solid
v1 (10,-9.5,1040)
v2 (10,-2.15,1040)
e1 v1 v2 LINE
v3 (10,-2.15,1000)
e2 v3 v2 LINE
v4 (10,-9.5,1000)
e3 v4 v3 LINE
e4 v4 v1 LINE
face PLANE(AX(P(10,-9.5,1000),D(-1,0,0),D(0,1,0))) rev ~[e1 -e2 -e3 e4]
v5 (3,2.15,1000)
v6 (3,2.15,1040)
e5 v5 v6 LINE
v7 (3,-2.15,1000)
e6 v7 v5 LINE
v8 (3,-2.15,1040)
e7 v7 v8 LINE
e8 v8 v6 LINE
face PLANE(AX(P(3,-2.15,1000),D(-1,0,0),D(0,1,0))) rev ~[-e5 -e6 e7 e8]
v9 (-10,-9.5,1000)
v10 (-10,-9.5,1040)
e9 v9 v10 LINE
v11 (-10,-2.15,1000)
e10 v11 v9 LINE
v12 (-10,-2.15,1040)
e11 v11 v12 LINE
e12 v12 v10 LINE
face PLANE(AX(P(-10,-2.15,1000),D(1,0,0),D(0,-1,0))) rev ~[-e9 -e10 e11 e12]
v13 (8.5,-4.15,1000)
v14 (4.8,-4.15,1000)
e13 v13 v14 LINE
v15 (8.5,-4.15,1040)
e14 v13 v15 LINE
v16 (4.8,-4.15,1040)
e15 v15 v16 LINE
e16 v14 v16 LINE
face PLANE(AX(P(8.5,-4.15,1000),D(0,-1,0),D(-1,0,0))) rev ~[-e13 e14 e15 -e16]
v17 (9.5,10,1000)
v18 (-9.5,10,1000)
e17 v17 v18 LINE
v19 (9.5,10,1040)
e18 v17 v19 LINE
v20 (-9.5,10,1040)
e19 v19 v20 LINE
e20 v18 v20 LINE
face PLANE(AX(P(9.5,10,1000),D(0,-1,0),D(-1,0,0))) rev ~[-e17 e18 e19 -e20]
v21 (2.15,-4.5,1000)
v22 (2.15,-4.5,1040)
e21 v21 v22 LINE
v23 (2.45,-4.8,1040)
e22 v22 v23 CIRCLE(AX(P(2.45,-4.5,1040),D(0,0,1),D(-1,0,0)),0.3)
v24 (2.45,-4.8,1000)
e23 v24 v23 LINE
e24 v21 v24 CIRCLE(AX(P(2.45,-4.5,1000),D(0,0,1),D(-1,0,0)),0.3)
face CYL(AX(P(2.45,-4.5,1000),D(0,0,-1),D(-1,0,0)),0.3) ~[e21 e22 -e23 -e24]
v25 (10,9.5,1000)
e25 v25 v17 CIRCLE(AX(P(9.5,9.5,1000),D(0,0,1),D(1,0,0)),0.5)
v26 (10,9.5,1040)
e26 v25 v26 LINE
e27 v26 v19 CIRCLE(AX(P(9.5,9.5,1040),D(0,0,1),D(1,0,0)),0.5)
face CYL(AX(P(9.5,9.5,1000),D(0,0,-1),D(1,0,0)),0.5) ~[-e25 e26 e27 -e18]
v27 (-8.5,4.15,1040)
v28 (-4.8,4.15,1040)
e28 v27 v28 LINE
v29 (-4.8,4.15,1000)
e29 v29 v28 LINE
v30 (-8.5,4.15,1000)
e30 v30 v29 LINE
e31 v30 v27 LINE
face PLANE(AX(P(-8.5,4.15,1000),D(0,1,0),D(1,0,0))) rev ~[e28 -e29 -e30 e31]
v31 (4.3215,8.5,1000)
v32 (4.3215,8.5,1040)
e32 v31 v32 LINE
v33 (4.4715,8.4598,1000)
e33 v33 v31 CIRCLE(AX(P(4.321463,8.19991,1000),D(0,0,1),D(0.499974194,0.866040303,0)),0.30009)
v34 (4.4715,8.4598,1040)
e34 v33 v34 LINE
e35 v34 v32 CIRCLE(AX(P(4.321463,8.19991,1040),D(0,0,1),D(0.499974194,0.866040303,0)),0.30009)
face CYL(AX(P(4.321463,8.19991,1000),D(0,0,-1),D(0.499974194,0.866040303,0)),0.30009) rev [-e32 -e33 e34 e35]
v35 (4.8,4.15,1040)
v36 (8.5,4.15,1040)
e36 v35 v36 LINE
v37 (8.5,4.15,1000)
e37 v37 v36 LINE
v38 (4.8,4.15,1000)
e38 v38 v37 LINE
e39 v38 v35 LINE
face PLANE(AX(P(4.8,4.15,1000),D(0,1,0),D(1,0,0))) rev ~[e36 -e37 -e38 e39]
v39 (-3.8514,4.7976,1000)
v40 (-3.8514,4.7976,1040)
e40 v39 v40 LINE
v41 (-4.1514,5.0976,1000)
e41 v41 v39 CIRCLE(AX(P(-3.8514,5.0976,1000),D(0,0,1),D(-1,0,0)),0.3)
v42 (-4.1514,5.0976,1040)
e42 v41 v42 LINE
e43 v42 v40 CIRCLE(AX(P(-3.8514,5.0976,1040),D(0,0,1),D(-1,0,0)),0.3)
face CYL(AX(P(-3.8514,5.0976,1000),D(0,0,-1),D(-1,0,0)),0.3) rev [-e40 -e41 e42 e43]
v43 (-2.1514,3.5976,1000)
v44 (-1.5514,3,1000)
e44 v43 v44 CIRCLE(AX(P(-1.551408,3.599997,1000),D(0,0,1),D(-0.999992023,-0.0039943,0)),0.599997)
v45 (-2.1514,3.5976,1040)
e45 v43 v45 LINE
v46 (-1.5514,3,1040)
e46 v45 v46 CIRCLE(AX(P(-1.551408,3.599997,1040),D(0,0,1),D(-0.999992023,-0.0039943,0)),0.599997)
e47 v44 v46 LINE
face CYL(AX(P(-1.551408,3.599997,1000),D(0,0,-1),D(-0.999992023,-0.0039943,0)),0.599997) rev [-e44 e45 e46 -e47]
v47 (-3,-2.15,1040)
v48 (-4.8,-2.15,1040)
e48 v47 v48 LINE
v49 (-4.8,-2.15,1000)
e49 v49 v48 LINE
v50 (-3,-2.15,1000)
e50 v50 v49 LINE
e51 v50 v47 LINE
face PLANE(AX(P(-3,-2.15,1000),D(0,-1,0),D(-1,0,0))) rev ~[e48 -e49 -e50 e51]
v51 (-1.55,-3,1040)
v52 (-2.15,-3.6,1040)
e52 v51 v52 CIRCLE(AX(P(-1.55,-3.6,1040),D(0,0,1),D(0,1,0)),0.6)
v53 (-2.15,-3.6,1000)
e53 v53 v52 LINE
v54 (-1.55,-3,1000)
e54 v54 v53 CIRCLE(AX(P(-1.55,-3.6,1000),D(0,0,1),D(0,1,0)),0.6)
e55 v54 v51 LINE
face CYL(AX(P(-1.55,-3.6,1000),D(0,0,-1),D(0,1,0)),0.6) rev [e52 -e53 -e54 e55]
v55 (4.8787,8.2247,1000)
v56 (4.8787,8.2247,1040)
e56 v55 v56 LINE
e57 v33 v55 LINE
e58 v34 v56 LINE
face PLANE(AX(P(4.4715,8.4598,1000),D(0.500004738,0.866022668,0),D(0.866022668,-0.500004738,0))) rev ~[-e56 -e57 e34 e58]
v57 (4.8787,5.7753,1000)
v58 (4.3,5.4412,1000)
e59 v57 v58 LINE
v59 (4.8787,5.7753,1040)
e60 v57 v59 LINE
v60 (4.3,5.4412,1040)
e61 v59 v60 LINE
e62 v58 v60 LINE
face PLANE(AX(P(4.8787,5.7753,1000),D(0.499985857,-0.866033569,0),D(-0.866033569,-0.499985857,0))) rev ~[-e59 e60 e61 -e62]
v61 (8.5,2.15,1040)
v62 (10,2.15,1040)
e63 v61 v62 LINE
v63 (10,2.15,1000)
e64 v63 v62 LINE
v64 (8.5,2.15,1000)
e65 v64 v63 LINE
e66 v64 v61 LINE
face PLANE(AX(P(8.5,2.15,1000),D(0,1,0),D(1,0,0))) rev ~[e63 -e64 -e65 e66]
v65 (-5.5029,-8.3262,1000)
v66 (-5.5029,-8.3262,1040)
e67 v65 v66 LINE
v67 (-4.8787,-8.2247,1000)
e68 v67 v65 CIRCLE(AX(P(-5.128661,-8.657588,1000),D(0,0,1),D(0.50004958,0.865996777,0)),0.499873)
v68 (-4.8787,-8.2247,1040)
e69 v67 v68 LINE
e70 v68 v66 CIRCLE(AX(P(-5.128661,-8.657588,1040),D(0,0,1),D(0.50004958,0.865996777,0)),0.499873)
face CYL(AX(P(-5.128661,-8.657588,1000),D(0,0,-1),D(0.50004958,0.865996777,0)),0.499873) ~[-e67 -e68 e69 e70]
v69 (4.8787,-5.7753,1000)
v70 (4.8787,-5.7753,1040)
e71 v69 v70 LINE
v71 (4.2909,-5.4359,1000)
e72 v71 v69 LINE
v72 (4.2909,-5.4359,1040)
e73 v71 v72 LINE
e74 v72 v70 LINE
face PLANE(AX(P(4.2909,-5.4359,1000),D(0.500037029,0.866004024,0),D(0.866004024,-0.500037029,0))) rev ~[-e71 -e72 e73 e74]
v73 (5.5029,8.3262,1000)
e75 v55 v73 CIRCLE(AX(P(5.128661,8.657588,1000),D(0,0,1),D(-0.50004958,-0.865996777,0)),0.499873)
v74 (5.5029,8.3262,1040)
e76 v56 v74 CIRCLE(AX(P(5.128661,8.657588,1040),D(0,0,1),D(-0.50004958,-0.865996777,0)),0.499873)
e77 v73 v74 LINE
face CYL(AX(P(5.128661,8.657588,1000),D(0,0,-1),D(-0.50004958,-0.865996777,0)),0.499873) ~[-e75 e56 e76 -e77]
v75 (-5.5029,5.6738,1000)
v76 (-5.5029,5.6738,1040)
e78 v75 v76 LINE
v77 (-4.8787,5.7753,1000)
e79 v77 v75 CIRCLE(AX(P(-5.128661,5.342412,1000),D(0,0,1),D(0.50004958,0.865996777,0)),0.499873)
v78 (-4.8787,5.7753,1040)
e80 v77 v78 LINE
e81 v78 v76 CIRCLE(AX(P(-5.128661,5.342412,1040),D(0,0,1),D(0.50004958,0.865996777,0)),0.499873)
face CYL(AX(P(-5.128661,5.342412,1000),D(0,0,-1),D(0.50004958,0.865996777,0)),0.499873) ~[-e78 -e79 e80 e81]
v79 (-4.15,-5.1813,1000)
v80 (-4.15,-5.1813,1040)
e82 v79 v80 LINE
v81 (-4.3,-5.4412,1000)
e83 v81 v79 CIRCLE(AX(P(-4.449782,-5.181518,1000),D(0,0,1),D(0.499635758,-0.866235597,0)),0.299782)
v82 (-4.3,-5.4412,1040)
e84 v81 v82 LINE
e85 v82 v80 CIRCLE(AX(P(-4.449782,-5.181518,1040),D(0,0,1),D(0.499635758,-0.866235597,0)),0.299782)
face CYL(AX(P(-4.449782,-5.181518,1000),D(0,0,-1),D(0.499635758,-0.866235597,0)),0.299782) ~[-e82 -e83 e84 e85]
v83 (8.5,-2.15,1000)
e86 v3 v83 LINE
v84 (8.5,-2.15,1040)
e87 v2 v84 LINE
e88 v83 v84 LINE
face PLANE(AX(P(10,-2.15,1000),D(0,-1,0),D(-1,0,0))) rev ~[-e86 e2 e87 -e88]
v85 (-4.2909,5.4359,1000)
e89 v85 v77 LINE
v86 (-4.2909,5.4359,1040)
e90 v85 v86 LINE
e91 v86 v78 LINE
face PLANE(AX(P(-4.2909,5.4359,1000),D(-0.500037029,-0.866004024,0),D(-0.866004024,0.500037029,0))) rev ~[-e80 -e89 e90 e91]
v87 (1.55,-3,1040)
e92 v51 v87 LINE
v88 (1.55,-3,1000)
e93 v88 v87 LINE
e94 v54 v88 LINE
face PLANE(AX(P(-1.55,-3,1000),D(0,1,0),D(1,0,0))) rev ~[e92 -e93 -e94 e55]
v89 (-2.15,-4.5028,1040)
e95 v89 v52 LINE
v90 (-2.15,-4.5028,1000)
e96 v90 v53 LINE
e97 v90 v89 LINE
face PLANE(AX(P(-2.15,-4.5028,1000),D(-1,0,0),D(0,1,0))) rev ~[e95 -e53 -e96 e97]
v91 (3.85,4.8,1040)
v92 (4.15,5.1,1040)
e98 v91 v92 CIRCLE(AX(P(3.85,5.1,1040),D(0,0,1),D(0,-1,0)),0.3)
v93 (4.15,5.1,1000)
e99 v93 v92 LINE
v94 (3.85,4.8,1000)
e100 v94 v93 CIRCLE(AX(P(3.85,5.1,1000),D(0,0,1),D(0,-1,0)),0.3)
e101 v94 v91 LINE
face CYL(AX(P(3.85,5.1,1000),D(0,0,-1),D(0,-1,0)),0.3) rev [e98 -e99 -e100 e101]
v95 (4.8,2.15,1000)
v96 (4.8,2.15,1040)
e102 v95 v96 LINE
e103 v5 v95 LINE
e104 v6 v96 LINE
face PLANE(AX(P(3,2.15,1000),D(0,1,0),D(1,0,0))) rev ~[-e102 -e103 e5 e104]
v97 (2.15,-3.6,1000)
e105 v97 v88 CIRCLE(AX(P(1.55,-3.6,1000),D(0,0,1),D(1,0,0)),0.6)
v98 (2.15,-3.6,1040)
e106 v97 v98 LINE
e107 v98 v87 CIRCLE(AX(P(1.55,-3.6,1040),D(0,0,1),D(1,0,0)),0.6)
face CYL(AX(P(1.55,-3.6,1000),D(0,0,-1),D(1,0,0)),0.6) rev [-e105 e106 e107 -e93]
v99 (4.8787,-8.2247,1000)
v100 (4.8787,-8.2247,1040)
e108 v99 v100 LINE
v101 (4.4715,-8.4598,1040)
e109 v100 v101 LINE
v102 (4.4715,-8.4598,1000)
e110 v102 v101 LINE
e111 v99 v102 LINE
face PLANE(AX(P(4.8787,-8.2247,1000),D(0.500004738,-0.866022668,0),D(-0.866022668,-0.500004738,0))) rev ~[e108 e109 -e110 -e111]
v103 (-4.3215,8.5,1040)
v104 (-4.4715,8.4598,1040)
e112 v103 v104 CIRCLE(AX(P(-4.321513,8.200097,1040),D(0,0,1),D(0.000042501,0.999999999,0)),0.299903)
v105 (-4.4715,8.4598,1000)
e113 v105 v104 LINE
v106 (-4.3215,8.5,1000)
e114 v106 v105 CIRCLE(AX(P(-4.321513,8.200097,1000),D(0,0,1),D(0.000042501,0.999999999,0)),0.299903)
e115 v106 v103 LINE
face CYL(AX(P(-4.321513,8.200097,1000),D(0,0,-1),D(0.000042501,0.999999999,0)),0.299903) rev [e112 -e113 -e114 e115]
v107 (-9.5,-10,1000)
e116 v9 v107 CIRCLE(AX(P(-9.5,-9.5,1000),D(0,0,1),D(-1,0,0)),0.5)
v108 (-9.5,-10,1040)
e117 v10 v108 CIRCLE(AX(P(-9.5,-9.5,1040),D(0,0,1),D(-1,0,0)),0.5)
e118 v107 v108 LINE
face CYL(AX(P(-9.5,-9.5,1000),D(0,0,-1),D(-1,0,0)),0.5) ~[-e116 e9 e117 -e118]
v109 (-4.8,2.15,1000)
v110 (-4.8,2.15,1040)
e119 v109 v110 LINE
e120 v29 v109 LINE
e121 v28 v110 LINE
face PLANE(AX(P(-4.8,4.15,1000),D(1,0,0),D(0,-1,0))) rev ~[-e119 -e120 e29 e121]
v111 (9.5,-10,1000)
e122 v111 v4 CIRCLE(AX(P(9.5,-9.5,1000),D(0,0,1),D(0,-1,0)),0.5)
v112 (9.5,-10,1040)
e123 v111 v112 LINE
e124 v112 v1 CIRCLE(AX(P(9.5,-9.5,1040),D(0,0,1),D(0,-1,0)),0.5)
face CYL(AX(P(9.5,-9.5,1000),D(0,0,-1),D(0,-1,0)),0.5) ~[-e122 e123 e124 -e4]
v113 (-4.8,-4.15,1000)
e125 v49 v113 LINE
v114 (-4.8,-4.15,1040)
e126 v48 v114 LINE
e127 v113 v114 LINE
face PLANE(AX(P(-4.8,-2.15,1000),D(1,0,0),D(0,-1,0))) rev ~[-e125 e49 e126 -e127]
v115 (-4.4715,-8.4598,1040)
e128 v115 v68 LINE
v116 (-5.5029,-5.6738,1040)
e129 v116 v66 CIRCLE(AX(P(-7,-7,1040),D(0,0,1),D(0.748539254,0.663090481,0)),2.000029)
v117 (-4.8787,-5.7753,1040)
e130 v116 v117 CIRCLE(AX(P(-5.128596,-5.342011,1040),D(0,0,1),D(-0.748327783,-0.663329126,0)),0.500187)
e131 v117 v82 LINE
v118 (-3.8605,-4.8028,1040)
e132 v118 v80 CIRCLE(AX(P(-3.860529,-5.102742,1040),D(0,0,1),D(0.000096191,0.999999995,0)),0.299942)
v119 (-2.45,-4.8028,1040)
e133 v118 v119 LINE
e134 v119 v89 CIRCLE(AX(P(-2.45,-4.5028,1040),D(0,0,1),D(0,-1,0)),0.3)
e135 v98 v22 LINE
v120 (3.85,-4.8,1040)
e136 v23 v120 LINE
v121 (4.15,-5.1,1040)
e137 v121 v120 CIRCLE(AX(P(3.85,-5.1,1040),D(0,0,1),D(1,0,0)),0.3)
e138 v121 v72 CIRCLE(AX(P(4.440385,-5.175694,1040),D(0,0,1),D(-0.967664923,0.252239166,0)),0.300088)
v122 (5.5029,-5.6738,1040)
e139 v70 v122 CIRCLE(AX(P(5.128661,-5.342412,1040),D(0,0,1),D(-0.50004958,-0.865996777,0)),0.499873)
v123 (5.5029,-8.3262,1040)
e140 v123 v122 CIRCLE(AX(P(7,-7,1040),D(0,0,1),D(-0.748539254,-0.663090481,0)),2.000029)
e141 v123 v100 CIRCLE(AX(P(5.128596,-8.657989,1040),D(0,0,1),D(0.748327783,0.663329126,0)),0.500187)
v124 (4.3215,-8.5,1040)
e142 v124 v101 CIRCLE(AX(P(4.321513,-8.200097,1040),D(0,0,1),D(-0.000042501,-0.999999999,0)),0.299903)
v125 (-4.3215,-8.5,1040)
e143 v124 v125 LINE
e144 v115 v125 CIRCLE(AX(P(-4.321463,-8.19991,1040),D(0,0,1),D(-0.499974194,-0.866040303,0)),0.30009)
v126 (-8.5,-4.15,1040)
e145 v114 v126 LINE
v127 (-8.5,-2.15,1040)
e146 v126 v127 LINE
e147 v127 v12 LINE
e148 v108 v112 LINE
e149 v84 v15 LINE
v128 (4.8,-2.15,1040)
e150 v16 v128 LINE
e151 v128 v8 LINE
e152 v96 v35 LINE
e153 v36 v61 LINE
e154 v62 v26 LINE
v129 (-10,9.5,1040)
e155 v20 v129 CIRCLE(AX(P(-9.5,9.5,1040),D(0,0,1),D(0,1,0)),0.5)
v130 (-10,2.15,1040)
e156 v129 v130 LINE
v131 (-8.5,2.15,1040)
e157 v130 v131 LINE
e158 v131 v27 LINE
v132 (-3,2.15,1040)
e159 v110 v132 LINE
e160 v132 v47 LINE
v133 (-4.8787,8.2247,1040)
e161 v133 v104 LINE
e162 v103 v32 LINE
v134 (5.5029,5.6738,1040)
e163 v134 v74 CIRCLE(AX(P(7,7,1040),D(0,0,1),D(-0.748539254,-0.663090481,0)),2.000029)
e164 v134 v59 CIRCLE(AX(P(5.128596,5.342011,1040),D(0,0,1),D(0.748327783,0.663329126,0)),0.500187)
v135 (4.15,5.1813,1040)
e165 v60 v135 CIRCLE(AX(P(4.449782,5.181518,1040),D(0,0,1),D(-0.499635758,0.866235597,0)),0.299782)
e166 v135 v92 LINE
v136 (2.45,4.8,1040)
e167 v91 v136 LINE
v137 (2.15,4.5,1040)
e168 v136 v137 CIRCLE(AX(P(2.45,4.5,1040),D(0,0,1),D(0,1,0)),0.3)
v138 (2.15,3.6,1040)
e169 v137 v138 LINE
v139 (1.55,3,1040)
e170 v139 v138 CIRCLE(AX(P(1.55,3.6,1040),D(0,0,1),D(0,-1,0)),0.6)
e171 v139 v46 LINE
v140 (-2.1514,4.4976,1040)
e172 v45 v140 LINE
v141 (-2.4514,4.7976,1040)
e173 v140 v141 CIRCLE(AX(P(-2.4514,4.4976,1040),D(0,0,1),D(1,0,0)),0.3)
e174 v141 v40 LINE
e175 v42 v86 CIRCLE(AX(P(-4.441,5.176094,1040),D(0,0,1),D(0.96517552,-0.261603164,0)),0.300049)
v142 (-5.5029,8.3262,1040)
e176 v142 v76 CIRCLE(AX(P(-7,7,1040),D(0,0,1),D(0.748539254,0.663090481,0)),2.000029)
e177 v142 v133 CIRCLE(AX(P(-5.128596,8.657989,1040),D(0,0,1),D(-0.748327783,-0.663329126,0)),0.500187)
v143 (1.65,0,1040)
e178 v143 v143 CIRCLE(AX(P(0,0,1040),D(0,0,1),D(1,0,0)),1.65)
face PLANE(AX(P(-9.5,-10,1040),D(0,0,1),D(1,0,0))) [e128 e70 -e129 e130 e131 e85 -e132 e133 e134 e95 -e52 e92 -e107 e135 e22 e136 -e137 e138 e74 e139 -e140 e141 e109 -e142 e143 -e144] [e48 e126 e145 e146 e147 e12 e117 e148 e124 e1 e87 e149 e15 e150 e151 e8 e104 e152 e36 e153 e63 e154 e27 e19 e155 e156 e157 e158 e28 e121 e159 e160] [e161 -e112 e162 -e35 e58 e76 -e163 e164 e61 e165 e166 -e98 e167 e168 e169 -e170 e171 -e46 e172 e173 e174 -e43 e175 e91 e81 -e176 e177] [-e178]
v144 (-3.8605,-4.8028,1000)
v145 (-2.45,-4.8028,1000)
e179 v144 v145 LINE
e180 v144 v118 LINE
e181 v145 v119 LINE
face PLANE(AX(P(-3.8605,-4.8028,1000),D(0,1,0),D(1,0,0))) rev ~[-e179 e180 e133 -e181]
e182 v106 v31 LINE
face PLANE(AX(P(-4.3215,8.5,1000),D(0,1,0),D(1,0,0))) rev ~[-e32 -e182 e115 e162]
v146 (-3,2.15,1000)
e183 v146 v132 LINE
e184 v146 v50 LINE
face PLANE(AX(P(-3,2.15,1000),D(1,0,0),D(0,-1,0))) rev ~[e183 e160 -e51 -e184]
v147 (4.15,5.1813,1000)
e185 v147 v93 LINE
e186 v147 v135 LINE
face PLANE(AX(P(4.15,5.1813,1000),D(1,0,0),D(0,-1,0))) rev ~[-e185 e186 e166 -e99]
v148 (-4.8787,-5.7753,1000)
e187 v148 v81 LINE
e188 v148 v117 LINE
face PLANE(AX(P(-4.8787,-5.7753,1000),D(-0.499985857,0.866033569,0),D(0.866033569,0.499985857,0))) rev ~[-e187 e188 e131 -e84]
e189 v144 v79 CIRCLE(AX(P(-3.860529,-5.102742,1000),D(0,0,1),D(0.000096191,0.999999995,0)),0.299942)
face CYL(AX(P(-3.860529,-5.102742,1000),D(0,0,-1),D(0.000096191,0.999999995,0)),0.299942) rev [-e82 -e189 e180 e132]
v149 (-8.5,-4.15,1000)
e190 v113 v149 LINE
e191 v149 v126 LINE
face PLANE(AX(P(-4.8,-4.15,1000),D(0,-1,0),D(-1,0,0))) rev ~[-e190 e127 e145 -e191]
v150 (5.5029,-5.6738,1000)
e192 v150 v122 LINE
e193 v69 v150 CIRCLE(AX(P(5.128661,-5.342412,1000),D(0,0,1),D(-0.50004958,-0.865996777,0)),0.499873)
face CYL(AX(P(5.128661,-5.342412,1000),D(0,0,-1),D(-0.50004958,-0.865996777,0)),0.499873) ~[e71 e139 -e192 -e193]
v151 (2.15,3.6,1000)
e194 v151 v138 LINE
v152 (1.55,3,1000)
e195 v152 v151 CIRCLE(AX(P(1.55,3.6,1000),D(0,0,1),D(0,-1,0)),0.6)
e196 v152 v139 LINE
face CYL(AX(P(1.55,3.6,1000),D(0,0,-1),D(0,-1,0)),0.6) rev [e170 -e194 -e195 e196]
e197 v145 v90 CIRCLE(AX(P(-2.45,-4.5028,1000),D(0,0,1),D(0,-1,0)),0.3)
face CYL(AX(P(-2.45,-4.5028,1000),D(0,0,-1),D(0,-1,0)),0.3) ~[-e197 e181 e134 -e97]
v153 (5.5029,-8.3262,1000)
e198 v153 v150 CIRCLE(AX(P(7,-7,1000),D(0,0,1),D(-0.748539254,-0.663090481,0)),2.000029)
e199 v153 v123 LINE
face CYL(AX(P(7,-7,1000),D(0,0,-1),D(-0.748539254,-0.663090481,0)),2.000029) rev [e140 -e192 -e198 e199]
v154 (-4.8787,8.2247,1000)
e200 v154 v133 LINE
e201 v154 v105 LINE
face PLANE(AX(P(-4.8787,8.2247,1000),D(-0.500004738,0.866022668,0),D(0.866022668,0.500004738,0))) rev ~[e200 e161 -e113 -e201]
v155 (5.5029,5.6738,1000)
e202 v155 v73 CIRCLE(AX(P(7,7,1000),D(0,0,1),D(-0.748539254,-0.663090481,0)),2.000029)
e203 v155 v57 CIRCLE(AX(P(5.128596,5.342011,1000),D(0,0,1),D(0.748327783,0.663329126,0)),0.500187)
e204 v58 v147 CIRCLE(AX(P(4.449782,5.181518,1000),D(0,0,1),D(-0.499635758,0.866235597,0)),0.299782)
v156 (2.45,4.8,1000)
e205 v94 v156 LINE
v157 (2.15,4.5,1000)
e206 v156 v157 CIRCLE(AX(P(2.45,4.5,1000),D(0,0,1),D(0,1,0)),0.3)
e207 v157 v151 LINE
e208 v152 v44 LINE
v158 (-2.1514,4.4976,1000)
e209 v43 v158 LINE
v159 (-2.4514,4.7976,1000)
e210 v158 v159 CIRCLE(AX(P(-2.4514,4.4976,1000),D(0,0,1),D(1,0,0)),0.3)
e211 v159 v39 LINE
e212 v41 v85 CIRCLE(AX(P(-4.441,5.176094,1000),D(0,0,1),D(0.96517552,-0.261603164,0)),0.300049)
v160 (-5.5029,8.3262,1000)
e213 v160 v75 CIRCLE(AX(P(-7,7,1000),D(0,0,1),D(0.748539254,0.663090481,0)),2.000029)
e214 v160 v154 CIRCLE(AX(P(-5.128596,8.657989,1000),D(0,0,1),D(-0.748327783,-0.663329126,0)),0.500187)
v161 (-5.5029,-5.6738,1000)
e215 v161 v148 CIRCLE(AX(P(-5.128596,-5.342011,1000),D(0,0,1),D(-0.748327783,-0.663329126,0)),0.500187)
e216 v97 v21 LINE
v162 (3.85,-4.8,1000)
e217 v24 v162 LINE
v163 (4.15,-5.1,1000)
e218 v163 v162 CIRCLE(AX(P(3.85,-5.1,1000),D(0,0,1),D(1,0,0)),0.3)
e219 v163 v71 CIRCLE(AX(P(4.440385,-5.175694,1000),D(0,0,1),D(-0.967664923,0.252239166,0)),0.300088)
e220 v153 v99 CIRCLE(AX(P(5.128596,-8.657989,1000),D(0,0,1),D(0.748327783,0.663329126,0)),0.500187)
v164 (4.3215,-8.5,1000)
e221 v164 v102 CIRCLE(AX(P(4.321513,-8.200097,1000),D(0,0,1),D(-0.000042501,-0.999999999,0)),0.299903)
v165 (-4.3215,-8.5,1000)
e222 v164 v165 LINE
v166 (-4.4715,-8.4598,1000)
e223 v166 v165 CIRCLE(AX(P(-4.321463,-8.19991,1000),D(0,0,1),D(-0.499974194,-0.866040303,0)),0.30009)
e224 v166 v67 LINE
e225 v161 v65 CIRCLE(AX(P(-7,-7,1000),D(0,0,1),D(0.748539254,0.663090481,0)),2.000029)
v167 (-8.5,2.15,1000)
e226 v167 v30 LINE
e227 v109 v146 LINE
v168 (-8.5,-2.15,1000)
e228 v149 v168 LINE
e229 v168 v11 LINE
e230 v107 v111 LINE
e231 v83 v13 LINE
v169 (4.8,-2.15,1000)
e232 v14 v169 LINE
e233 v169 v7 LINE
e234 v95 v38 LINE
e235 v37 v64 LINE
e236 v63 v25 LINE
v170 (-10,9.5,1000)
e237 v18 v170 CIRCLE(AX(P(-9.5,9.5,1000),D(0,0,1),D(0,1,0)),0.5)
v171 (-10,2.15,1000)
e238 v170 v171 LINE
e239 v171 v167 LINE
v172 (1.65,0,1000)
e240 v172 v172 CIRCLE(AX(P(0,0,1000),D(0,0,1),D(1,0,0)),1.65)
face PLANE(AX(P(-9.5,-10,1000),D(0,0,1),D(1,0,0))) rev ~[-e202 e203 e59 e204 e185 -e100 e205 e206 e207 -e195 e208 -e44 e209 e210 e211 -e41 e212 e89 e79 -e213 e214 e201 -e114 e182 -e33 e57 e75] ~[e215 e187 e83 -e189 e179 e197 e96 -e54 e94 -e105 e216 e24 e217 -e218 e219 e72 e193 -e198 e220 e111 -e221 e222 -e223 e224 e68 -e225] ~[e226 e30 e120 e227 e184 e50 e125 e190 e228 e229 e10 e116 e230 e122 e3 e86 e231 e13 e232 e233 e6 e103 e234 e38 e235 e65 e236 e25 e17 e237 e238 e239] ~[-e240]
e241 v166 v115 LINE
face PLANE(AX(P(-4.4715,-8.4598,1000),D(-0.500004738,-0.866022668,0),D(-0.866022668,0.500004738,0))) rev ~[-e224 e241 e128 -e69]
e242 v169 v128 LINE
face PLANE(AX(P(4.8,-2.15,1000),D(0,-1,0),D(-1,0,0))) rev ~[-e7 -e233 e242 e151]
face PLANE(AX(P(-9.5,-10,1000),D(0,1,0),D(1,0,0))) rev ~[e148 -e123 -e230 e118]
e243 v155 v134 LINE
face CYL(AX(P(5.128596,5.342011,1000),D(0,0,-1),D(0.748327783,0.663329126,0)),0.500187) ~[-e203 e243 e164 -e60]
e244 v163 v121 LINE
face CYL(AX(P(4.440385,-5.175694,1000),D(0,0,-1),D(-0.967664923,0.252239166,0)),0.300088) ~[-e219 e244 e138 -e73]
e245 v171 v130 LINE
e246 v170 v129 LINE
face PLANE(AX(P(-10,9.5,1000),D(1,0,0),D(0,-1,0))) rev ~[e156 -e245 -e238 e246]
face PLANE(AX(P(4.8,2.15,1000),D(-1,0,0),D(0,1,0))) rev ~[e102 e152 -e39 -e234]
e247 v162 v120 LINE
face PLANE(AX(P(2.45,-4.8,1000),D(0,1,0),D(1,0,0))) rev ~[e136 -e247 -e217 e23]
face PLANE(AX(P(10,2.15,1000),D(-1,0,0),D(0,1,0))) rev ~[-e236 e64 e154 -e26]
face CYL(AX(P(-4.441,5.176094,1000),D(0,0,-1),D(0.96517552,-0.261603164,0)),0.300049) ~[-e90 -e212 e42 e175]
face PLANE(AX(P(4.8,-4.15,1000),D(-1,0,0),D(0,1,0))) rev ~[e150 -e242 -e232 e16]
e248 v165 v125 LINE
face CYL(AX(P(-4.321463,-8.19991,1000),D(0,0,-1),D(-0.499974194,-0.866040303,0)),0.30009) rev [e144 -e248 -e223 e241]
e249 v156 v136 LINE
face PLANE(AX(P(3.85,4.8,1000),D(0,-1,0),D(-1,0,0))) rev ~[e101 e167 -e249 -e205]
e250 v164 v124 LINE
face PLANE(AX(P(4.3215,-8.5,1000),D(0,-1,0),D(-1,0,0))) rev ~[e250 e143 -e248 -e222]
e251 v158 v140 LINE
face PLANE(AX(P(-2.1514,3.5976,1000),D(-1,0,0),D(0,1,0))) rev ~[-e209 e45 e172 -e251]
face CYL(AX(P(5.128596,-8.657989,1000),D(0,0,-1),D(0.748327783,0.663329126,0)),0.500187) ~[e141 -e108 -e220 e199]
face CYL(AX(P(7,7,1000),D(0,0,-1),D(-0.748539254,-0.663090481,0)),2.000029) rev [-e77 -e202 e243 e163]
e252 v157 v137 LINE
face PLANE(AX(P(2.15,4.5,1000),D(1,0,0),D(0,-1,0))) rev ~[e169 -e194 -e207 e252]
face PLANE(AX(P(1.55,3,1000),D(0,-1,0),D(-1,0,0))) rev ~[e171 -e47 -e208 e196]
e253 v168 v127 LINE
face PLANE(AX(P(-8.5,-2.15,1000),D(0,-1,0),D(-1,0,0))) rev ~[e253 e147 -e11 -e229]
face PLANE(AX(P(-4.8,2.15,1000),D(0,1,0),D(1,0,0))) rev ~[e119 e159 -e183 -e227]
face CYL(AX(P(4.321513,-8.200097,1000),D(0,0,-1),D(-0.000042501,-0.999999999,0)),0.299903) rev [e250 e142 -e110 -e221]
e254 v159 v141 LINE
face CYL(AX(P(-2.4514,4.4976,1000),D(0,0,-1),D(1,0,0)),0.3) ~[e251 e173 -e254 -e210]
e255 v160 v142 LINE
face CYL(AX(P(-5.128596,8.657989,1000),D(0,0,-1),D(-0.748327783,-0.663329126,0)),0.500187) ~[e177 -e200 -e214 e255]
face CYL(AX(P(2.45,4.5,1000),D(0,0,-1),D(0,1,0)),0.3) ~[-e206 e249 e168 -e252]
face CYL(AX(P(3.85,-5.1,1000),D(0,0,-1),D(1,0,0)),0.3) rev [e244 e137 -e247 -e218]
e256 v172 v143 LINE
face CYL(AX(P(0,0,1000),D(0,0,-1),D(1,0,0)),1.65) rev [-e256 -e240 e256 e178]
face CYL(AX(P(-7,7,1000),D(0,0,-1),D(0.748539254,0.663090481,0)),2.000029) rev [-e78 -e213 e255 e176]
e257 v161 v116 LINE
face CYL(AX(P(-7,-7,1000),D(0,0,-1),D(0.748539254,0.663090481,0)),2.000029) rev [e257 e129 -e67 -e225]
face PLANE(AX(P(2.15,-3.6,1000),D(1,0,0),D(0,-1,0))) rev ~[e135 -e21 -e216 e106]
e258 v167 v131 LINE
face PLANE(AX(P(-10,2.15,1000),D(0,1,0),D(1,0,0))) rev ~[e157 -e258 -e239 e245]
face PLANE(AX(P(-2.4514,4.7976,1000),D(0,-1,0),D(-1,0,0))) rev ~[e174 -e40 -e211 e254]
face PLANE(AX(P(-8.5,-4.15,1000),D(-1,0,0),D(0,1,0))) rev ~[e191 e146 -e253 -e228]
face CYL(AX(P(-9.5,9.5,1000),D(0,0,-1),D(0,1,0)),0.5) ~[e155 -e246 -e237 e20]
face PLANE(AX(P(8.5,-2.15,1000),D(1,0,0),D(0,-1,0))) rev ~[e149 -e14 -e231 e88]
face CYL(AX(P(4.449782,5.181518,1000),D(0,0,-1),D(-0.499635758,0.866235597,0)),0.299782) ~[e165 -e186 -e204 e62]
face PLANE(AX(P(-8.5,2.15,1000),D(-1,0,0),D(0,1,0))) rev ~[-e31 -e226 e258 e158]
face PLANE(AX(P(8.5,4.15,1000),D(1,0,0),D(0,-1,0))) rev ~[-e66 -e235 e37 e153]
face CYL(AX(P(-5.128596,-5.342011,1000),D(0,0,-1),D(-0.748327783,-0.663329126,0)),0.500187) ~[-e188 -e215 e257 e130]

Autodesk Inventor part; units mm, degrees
ref_plane "YZ Plane" through (0, 0, 0) normal (1, 0, 0) x (0, 1, 0)
ref_plane "XZ Plane" through (0, 0, 0) normal (0, 1, 0) x (-1, 0, 0)
ref_plane "作業平面1" through (-9.5, -10, 1000) normal (0, 0, 1) x (1, 0, 0)
sketch "スケッチ1" plane through (-9.5, -10, 1000) normal (0, 0, 1) x (1, 0, 0)
  line L0 (-0.5, 12.15) -> (1, 12.15) projected
  line L1 (1, 12.15) -> (1, 14.15) projected
  line L2 (1, 14.15) -> (4.7, 14.15) projected
  line L3 (4.7, 14.15) -> (4.7, 12.15) projected
  line L4 (4.7, 12.15) -> (6.5, 12.15) projected
  line L5 (6.5, 12.15) -> (6.5, 7.85) projected
  line L6 (6.5, 7.85) -> (4.7, 7.85) projected
  line L7 (4.7, 7.85) -> (4.7, 5.85) projected
  line L8 (4.7, 5.85) -> (1, 5.85) projected
  line L9 (1, 5.85) -> (1, 7.85) projected
  line L10 (1, 7.85) -> (-0.5, 7.85) projected
  line L11 (-0.5, 7.85) -> (-0.5, 0.5) projected
  arc A0 (-0.5, 0.5) -> (0, 0) centre (0, 0.5) ccw projected
  line L12 (0, 0) -> (19, 0) projected
  arc A1 (19, 0) -> (19.5, 0.5) centre (19, 0.5) ccw projected
  line L13 (19.5, 0.5) -> (19.5, 7.85) projected
  line L14 (19.5, 7.85) -> (18, 7.85) projected
  line L15 (18, 7.85) -> (18, 5.85) projected
  line L16 (18, 5.85) -> (14.3, 5.85) projected
  line L17 (14.3, 5.85) -> (14.3, 7.85) projected
  line L18 (14.3, 7.85) -> (12.5, 7.85) projected
  line L19 (12.5, 7.85) -> (12.5, 12.15) projected
  line L20 (12.5, 12.15) -> (14.3, 12.15) projected
  line L21 (14.3, 12.15) -> (14.3, 14.15) projected
  line L22 (14.3, 14.15) -> (18, 14.15) projected
  line L23 (18, 14.15) -> (18, 12.15) projected
  line L24 (18, 12.15) -> (19.5, 12.15) projected
  line L25 (19.5, 12.15) -> (19.5, 19.5) projected
  arc A2 (19.5, 19.5) -> (19, 20) centre (19, 19.5) ccw projected
  line L26 (19, 20) -> (0, 20) projected
  arc A3 (0, 20) -> (-0.5, 19.5) centre (0, 19.5) ccw projected
  line L27 (-0.5, 19.5) -> (-0.5, 12.15) projected
  line L28 (13.65, 15.1813) -> (13.65, 15.1) projected
  arc A4 (13.35, 14.8) -> (13.65, 15.1) centre (13.35, 15.1) ccw projected
  line L29 (13.35, 14.8) -> (11.95, 14.8) projected
  arc A5 (11.95, 14.8) -> (11.65, 14.5) centre (11.95, 14.5) ccw projected
  line L30 (11.65, 14.5) -> (11.65, 13.6) projected
  arc A6 (11.05, 13) -> (11.65, 13.6) centre (11.05, 13.6) ccw projected
  line L31 (11.05, 13) -> (7.9486, 13) projected
  arc A7 (7.3486, 13.5976) -> (7.9486, 13) centre (7.9486, 13.6) ccw projected
  line L32 (7.3486, 13.5976) -> (7.3486, 14.4976) projected
  arc A8 (7.3486, 14.4976) -> (7.0486, 14.7976) centre (7.0486, 14.4976) ccw projected
  line L33 (7.0486, 14.7976) -> (5.6486, 14.7976) projected
  arc A9 (5.3486, 15.0976) -> (5.6486, 14.7976) centre (5.6486, 15.0976) ccw projected
  arc A10 (5.3486, 15.0976) -> (5.2091, 15.4359) centre (5.0591, 15.1761) ccw projected
  line L34 (5.2091, 15.4359) -> (4.6213, 15.7753) projected
  arc A11 (4.6213, 15.7753) -> (3.9971, 15.6738) centre (4.3713, 15.3422) ccw projected
  arc A12 (3.9971, 18.3262) -> (3.9971, 15.6738) centre (2.5, 17) ccw projected
  arc A13 (3.9971, 18.3262) -> (4.6213, 18.2247) centre (4.3713, 18.6578) ccw projected
  line L35 (4.6213, 18.2247) -> (5.0285, 18.4598) projected
  arc A14 (5.1785, 18.5) -> (5.0285, 18.4598) centre (5.1785, 18.2) ccw projected
  line L36 (5.1785, 18.5) -> (13.8215, 18.5) projected
  arc A15 (13.9715, 18.4598) -> (13.8215, 18.5) centre (13.8215, 18.2) ccw projected
  line L37 (13.9715, 18.4598) -> (14.3787, 18.2247) projected
  arc A16 (14.3787, 18.2247) -> (15.0029, 18.3262) centre (14.6287, 18.6578) ccw projected
  arc A17 (15.0029, 15.6738) -> (15.0029, 18.3262) centre (16.5, 17) ccw projected
  arc A18 (15.0029, 15.6738) -> (14.3787, 15.7753) centre (14.6287, 15.3422) ccw projected
  line L38 (14.3787, 15.7753) -> (13.8, 15.4412) projected
  arc A19 (13.8, 15.4412) -> (13.65, 15.1813) centre (13.95, 15.1813) ccw projected
  arc A20 (11.65, 6.4) -> (11.05, 7) centre (11.05, 6.4) ccw projected
  line L39 (11.65, 6.4) -> (11.65, 5.5) projected
  arc A21 (11.65, 5.5) -> (11.95, 5.2) centre (11.95, 5.5) ccw projected
  line L40 (11.95, 5.2) -> (13.35, 5.2) projected
  arc A22 (13.65, 4.9) -> (13.35, 5.2) centre (13.35, 4.9) ccw projected
  arc A23 (13.65, 4.9) -> (13.7909, 4.5641) centre (13.9403, 4.8243) ccw projected
  line L41 (13.7909, 4.5641) -> (14.3787, 4.2247) projected
  arc A24 (14.3787, 4.2247) -> (15.0029, 4.3262) centre (14.6287, 4.6578) ccw projected
  arc A25 (15.0029, 1.6738) -> (15.0029, 4.3262) centre (16.5, 3) ccw projected
  arc A26 (15.0029, 1.6738) -> (14.3787, 1.7753) centre (14.6287, 1.3422) ccw projected
  line L42 (14.3787, 1.7753) -> (13.9715, 1.5402) projected
  arc A27 (13.8215, 1.5) -> (13.9715, 1.5402) centre (13.8215, 1.8) ccw projected
  line L43 (13.8215, 1.5) -> (5.1785, 1.5) projected
  arc A28 (5.0285, 1.5402) -> (5.1785, 1.5) centre (5.1785, 1.8) ccw projected
  line L44 (5.0285, 1.5402) -> (4.6213, 1.7753) projected
  arc A29 (4.6213, 1.7753) -> (3.9971, 1.6738) centre (4.3713, 1.3422) ccw projected
  arc A30 (3.9971, 4.3262) -> (3.9971, 1.6738) centre (2.5, 3) ccw projected
  arc A31 (3.9971, 4.3262) -> (4.6213, 4.2247) centre (4.3713, 4.6578) ccw projected
  line L45 (4.6213, 4.2247) -> (5.2, 4.5588) projected
  arc A32 (5.2, 4.5588) -> (5.35, 4.8187) centre (5.05, 4.8187) ccw projected
  arc A33 (5.6395, 5.1972) -> (5.35, 4.8187) centre (5.6395, 4.8972) ccw projected
  line L46 (5.6395, 5.1972) -> (7.05, 5.1972) projected
  arc A34 (7.05, 5.1972) -> (7.35, 5.4972) centre (7.05, 5.4972) ccw projected
  line L47 (7.35, 5.4972) -> (7.35, 6.4) projected
  arc A35 (7.95, 7) -> (7.35, 6.4) centre (7.95, 6.4) ccw projected
  line L48 (7.95, 7) -> (11.05, 7) projected
  circle A36 centre (9.5, 10) radius 1.65 projected
extrude "押し出し1" add sketch "スケッチ1" along normal blind 40
properties part number "AFSW-2020-4"
